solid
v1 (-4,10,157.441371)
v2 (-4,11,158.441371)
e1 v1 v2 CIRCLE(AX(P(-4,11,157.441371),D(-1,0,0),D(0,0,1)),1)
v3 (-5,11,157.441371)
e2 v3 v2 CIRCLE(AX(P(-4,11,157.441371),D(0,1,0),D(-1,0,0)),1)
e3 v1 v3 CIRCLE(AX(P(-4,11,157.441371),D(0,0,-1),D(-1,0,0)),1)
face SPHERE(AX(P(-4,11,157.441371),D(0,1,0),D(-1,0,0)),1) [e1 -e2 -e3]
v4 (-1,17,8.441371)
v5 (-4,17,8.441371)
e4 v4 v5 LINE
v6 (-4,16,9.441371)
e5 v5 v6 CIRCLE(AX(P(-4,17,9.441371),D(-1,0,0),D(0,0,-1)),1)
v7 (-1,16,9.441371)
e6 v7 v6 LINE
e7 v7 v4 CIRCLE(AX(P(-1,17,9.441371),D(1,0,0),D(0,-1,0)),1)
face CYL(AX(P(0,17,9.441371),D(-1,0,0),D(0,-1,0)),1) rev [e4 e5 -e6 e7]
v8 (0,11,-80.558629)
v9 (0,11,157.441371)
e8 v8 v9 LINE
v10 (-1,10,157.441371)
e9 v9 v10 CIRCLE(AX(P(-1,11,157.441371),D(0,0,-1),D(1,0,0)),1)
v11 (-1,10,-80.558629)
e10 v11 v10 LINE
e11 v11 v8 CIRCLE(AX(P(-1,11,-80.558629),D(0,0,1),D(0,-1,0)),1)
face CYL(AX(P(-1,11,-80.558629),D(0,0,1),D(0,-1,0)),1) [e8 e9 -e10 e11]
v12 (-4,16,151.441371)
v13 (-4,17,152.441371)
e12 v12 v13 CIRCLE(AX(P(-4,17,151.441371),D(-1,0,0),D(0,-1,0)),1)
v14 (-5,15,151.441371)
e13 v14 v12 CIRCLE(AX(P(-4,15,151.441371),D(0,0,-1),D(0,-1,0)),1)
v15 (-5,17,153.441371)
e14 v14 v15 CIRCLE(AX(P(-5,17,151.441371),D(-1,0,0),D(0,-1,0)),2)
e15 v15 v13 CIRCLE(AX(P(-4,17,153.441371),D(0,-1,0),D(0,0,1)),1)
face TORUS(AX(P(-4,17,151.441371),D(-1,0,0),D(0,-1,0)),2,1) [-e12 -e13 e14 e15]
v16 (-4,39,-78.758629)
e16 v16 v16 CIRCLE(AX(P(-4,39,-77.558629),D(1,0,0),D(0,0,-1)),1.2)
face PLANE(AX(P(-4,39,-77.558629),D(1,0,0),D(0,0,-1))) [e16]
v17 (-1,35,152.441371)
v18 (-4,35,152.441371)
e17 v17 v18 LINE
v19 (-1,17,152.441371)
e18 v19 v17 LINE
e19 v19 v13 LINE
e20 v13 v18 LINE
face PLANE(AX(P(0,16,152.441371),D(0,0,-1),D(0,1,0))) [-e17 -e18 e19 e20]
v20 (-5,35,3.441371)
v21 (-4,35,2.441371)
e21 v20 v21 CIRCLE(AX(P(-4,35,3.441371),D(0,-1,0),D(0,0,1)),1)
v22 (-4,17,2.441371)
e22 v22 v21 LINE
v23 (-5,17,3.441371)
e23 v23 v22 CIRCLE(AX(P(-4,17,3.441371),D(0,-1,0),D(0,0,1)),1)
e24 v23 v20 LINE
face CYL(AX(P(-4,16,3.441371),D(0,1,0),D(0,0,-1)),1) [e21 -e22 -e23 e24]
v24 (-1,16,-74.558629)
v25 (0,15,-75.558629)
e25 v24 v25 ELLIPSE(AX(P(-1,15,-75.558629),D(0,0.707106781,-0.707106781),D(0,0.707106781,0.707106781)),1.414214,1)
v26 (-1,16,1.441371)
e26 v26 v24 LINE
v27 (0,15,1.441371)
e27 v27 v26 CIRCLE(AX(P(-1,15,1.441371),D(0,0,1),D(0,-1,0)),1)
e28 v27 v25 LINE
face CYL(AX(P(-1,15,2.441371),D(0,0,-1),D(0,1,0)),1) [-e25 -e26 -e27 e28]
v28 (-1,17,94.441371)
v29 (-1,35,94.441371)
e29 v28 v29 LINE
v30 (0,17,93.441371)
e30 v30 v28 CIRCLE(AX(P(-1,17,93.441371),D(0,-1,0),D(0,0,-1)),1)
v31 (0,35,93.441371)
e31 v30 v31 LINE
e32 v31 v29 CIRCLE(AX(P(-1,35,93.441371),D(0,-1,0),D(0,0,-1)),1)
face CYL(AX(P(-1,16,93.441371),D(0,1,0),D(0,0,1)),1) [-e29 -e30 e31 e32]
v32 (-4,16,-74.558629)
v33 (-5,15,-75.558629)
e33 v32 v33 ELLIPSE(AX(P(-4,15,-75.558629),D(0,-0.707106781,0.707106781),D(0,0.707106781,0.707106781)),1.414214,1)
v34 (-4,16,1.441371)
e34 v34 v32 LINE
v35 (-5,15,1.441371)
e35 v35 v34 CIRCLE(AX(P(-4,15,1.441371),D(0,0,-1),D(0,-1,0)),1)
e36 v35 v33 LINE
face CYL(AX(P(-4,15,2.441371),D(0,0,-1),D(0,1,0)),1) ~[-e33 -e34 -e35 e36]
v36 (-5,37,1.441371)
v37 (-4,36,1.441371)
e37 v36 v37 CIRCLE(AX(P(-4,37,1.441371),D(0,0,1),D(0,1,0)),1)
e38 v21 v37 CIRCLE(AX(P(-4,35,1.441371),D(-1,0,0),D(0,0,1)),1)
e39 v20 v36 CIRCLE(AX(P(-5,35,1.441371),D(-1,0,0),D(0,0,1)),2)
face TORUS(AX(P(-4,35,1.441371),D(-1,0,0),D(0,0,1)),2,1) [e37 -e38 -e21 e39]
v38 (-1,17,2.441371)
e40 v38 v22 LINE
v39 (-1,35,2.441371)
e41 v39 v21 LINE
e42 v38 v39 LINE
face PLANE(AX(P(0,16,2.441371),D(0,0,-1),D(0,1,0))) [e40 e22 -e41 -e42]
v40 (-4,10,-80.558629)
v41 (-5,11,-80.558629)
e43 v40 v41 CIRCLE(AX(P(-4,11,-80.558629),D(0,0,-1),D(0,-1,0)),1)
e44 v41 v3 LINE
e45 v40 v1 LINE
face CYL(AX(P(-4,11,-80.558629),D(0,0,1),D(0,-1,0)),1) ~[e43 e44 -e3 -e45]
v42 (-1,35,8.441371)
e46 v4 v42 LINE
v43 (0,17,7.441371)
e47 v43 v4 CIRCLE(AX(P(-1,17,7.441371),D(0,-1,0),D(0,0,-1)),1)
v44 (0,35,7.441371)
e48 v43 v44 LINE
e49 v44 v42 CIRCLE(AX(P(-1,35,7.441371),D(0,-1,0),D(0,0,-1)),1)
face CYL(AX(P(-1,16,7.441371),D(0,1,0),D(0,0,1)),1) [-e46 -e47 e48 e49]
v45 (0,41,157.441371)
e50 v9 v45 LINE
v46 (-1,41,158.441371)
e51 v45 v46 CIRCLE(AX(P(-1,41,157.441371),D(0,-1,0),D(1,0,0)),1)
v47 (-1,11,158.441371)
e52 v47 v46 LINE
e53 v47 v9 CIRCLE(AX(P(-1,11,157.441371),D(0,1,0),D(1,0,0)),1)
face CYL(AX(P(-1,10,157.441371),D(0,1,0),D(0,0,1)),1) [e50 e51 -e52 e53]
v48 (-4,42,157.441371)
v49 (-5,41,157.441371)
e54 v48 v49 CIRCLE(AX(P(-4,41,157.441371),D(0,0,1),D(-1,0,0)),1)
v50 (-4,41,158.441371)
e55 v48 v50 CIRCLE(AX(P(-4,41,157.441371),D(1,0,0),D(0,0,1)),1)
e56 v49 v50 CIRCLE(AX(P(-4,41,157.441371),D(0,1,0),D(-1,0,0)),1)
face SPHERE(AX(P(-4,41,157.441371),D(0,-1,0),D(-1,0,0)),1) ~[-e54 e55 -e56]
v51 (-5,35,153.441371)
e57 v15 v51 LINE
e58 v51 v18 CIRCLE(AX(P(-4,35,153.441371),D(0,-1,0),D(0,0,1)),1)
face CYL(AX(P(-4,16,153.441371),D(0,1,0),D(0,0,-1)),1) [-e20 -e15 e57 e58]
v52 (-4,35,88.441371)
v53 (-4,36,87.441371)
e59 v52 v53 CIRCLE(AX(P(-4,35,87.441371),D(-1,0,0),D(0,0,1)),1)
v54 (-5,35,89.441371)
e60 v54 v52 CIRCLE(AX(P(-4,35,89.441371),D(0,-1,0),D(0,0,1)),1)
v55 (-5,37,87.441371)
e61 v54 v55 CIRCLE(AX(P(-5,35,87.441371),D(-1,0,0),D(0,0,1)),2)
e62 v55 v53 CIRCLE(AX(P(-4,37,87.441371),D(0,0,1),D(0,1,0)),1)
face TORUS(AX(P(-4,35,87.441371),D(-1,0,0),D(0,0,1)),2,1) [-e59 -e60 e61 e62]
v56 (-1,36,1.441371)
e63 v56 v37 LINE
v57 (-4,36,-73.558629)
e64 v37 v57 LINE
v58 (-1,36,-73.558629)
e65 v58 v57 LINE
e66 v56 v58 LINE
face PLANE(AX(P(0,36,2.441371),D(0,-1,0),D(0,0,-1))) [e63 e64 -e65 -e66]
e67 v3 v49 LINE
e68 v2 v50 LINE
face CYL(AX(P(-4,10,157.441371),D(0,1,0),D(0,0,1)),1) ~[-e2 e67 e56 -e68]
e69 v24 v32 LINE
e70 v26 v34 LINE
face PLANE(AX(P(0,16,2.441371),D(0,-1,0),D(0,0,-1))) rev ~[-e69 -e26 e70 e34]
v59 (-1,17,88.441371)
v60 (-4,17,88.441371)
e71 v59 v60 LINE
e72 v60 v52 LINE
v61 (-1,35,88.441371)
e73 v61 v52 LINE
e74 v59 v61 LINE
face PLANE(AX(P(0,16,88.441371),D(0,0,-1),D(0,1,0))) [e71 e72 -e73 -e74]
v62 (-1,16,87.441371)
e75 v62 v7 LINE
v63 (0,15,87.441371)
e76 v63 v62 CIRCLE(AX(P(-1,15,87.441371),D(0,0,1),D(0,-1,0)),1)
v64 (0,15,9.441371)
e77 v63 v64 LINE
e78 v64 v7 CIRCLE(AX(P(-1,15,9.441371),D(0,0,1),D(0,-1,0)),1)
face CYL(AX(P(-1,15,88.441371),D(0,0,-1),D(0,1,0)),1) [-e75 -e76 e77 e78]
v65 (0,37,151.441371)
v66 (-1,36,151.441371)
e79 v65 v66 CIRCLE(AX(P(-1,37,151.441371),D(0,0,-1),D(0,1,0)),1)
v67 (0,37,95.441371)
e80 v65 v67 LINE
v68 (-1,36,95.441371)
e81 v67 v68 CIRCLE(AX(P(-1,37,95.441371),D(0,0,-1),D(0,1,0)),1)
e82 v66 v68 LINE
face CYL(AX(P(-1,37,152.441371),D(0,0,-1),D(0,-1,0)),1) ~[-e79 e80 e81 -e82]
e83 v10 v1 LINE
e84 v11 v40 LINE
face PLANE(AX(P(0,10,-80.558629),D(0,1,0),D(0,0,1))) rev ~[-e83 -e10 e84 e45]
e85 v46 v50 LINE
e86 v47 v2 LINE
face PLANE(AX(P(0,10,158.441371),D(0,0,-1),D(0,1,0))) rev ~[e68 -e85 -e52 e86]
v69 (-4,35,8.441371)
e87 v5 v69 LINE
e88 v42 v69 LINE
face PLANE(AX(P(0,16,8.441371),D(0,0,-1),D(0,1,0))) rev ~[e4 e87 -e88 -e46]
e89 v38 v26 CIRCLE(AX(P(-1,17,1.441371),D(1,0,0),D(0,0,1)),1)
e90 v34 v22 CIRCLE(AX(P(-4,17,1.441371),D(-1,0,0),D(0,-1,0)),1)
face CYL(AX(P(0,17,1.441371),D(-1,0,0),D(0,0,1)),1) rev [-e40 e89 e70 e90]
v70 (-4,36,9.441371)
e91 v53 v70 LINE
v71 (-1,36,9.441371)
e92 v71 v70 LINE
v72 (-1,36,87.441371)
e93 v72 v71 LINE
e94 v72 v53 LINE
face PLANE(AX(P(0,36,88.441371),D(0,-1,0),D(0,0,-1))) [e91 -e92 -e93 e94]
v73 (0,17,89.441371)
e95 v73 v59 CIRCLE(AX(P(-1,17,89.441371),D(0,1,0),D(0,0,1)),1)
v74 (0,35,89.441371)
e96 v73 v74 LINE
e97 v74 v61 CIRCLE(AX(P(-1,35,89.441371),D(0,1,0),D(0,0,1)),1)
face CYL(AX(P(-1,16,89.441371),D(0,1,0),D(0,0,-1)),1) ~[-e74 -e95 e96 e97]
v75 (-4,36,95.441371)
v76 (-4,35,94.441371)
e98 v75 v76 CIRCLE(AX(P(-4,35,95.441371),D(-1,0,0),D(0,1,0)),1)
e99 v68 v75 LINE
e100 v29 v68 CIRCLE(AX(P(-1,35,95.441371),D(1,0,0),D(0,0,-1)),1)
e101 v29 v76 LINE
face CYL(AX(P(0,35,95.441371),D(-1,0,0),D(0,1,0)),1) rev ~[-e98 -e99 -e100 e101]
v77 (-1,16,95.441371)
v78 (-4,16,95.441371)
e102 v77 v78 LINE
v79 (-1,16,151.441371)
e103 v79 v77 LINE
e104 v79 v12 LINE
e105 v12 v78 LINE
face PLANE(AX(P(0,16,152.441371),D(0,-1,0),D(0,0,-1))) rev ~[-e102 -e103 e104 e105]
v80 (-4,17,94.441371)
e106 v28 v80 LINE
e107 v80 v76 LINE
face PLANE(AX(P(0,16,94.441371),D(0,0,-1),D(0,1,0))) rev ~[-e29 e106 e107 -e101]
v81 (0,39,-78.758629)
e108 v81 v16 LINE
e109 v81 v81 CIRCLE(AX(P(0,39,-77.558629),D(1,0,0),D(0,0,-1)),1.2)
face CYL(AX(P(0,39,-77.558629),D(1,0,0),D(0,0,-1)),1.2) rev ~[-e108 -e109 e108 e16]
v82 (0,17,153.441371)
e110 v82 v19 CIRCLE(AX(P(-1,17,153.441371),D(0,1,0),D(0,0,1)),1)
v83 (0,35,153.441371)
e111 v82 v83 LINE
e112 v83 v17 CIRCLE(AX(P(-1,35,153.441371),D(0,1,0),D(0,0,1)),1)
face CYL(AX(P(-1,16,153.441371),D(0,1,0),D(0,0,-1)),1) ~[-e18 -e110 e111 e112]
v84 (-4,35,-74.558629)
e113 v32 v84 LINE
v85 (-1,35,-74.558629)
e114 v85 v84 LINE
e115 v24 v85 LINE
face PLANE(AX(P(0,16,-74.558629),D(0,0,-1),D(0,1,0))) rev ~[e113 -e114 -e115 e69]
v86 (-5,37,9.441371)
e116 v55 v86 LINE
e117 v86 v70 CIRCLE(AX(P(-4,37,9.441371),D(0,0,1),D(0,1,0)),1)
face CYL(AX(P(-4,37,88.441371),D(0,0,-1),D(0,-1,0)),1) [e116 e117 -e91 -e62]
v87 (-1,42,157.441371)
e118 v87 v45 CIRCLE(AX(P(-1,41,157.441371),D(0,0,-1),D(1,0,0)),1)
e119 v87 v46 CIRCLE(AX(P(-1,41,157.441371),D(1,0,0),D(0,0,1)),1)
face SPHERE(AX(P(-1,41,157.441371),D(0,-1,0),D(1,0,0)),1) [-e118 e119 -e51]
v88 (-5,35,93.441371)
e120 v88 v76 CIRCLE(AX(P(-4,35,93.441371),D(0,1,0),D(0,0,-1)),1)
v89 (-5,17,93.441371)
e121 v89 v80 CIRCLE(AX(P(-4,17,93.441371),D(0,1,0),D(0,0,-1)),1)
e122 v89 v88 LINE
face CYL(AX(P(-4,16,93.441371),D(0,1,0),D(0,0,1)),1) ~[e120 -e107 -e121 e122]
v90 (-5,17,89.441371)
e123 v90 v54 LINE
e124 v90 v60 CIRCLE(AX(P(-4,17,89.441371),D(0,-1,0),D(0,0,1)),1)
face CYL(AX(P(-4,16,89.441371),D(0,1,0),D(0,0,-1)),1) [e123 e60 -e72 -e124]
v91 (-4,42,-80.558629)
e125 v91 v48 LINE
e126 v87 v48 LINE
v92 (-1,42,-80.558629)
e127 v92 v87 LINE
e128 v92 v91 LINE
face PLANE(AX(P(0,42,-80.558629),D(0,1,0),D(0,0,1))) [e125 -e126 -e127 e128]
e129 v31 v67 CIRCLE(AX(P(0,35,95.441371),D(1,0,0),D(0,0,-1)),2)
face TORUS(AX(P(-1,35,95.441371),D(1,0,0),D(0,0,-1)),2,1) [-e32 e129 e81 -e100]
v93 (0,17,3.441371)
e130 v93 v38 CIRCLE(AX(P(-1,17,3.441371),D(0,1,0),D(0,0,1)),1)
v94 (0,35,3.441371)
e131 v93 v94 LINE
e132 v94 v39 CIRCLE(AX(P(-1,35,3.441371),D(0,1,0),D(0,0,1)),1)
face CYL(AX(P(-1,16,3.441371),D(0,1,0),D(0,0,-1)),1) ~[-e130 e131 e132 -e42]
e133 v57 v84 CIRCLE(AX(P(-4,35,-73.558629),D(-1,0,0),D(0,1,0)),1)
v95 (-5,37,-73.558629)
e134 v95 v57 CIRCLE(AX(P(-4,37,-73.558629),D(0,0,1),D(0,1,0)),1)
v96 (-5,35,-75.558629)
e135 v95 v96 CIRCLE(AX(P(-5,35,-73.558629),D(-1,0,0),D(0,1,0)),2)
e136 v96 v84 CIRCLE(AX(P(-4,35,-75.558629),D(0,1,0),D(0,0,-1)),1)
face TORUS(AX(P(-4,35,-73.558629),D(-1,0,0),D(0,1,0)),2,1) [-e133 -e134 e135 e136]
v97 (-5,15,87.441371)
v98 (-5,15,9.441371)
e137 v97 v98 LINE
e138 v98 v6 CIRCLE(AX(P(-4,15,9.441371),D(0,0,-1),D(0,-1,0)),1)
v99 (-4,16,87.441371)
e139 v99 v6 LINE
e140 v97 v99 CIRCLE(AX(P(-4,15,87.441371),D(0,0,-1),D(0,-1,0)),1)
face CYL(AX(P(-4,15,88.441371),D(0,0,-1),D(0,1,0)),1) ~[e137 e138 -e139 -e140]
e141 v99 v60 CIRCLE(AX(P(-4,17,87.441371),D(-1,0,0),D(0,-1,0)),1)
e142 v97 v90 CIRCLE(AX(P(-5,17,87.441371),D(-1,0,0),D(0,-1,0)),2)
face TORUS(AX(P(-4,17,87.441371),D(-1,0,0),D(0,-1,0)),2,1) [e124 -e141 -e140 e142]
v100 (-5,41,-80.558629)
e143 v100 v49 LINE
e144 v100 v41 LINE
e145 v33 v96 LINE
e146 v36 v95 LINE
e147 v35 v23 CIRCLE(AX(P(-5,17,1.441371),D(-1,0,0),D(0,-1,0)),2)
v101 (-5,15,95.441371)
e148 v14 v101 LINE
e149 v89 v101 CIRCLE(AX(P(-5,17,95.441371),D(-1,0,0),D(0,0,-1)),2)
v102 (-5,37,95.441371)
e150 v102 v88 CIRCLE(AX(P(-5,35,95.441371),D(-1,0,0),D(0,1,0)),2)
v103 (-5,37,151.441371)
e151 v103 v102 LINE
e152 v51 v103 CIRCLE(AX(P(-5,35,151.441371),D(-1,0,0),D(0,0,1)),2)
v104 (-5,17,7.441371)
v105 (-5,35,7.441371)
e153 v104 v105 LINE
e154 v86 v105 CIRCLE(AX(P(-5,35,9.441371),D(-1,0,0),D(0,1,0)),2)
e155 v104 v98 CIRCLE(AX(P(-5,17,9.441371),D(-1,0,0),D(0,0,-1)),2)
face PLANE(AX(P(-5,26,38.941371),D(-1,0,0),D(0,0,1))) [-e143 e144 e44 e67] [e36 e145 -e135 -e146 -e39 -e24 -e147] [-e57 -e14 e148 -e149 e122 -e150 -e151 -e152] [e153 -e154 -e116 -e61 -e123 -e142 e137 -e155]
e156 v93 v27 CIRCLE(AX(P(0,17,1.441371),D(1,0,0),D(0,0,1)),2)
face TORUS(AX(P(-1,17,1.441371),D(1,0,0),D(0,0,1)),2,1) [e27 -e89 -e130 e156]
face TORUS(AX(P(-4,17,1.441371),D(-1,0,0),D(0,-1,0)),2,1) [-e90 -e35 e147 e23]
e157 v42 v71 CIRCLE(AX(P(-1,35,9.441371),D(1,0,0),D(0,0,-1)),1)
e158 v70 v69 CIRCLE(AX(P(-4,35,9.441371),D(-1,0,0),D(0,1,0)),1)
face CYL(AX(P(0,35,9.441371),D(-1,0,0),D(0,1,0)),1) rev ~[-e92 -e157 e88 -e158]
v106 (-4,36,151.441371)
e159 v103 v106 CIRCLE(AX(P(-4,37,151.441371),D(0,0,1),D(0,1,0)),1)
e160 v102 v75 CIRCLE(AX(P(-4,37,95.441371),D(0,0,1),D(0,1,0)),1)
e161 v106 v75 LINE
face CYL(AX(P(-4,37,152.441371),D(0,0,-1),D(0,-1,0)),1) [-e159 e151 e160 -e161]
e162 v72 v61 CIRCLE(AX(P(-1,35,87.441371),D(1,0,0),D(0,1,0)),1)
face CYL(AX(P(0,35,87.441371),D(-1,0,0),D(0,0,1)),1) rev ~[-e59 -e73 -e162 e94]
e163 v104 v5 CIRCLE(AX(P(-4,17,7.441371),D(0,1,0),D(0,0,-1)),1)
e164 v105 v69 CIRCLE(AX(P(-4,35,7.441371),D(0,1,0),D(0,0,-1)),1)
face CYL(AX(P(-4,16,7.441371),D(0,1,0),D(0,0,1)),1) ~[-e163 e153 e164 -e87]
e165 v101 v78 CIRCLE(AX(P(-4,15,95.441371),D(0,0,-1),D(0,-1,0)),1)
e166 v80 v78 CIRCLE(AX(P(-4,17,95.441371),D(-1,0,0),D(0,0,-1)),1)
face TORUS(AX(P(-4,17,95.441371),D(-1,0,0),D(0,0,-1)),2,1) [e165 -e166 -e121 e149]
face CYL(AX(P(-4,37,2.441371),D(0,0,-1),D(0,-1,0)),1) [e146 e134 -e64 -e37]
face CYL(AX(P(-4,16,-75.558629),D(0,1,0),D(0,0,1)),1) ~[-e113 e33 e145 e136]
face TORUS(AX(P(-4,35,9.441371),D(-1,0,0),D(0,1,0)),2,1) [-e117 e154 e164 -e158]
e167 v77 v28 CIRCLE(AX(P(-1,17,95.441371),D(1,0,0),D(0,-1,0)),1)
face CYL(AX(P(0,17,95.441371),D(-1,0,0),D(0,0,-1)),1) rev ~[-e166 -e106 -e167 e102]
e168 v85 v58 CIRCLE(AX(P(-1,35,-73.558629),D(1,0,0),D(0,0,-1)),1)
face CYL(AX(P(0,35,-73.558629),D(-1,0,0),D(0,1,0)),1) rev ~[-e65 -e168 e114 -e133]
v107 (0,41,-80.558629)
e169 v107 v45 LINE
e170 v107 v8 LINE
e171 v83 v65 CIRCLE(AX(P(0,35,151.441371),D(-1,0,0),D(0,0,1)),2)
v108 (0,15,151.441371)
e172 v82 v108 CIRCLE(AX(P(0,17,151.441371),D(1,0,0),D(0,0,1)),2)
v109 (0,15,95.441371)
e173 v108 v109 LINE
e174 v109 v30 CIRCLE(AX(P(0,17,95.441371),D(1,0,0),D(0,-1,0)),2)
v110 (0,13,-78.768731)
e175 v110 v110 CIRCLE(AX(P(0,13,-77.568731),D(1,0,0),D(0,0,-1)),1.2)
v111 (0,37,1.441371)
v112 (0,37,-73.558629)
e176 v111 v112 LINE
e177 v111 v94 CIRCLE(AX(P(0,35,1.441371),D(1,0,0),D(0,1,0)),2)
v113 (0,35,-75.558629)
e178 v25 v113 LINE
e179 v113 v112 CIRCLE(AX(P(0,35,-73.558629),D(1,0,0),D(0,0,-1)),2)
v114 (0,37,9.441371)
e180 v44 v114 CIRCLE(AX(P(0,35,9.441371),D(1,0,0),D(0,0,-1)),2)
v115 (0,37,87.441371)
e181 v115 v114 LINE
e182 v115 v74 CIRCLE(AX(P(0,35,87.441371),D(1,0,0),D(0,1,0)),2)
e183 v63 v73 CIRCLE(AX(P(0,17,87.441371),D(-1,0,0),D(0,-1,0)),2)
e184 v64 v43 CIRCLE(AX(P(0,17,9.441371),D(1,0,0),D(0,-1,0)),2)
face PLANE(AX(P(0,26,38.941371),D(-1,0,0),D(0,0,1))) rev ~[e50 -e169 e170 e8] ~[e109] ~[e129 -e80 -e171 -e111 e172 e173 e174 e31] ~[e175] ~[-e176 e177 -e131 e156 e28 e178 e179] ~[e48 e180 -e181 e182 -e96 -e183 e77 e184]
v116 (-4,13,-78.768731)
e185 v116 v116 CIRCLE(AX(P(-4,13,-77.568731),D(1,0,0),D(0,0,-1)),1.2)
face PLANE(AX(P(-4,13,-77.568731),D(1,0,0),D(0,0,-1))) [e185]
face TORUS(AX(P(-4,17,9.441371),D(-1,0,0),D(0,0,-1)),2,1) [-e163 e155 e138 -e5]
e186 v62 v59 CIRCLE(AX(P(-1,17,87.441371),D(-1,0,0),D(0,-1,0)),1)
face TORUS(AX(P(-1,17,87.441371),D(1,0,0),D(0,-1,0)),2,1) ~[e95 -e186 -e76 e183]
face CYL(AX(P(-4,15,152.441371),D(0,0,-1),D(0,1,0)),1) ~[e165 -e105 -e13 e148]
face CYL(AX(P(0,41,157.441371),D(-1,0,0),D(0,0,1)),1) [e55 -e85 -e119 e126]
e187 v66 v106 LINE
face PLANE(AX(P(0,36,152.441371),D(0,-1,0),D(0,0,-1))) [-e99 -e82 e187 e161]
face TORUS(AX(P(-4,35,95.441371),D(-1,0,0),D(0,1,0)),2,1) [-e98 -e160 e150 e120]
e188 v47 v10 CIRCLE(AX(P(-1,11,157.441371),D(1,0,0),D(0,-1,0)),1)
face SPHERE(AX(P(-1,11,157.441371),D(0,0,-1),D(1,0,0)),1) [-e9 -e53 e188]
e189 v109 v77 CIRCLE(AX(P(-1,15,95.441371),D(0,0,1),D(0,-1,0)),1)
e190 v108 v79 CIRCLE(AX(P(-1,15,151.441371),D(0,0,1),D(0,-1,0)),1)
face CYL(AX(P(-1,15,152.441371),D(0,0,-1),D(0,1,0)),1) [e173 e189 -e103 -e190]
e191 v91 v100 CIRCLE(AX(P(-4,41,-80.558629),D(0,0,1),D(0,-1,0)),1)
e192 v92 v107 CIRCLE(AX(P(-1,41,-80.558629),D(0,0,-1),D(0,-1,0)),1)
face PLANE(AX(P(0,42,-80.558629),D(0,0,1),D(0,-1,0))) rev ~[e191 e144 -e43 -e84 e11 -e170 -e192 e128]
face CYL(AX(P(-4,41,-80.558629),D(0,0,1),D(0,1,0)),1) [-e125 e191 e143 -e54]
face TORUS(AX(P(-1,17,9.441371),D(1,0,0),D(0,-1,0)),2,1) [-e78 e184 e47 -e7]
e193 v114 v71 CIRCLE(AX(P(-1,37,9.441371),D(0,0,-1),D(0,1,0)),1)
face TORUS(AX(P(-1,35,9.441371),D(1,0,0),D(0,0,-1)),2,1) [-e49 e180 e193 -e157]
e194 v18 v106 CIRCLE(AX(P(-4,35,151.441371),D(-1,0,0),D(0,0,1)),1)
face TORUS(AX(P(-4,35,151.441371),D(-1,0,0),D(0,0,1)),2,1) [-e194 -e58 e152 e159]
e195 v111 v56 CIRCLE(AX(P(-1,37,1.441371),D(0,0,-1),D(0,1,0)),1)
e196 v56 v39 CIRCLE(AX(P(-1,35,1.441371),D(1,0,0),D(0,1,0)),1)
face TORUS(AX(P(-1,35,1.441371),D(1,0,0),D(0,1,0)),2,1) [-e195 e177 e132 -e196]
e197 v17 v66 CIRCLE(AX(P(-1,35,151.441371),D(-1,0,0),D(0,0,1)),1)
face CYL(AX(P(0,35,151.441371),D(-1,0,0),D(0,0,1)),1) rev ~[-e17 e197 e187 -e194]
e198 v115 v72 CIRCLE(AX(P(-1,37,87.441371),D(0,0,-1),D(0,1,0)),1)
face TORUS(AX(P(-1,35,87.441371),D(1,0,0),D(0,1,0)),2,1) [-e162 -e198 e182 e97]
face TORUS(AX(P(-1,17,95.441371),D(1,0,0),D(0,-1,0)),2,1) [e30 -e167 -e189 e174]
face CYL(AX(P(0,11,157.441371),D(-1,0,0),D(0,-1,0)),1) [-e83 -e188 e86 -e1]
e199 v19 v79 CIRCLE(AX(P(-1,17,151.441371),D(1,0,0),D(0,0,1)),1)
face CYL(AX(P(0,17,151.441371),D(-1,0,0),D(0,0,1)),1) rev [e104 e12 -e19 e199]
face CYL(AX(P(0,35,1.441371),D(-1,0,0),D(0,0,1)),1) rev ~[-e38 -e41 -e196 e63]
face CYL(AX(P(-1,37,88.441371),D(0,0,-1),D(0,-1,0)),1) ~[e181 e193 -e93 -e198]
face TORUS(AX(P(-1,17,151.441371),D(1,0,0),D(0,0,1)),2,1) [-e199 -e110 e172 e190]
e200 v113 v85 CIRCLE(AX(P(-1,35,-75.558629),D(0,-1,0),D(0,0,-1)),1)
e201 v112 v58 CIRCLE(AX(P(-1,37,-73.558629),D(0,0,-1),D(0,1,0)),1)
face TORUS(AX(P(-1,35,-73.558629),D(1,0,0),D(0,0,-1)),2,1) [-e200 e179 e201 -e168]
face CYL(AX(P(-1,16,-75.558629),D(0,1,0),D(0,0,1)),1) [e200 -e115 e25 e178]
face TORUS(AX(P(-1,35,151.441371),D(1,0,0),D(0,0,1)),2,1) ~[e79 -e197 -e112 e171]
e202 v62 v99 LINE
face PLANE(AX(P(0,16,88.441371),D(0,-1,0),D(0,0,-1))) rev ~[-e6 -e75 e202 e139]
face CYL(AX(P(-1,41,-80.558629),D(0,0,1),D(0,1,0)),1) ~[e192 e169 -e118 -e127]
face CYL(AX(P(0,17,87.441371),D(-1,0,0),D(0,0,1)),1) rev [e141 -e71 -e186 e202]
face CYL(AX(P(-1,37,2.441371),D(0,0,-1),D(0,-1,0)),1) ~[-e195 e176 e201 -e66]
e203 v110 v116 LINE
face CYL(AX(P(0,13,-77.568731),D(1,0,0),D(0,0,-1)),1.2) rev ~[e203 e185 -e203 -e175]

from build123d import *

# Parameters (mm, degrees)
ESBO_O8_W                = 80
ESBO_O8_H                = 20
ESBO_O8_W_2              = 77
ESBO_O8_W_3              = 58
RESSALTO_EXTRUS_O1_DEPTH = 5
FILETE1_R                = 1
ESBO_O9_R                = 1.2
CORTE_EXTRUS_O1_DEPTH    = 4


with BuildPart() as part:
    # Esboço8 → Ressalto-extrusão1 (new body)
    with BuildSketch(Plane(origin=(0, 0, 0), x_dir=(0, 0, -1), z_dir=(1, 0, 0))):
        Polygon((80.558629268, 10), (-158.441370732, 10), (-158.441370732, 42), (48.30242385, 42), (80.558629268, 42), align=None)
        with Locations((-48.441370732, 26)):
            Rectangle(ESBO_O8_W, ESBO_O8_H, mode=Mode.SUBTRACT)
        with Locations((36.058629268, 26)):
            Rectangle(ESBO_O8_W_2, ESBO_O8_H, mode=Mode.SUBTRACT)
        with Locations((-123.441370732, 26)):
            Rectangle(ESBO_O8_W_3, ESBO_O8_H, mode=Mode.SUBTRACT)
    extrude(amount=-RESSALTO_EXTRUS_O1_DEPTH)

    # Filete1
    filete1_edges = [part.edges().sort_by_distance(p)[0] for p in [
        (-5, 26, 158.441370732),
        (-5, 26, -74.558629268),
        (-2.5, 36, -74.558629268),
        (-5, 16, -36.058629268),
        (-5, 26, 2.441370732),
        (-2.5, 16, 2.441370732),
        (-5, 36, -36.058629268),
        (-2.5, 36, 2.441370732),
        (0, 26, -74.558629268),
        (0, 36, -36.058629268),
        (0, 26, 2.441370732),
        (0, 16, -36.058629268),
        (-5, 10, 38.941370732),
        (-5, 26, 152.441370732),
        (-2.5, 16, 152.441370732),
        (-5, 36, 123.441370732),
        (-2.5, 36, 152.441370732),
        (-5, 26, 94.441370732),
        (-2.5, 36, 94.441370732),
        (-5, 16, 123.441370732),
        (-2.5, 16, 94.441370732),
        (0, 26, 152.441370732),
        (0, 16, 123.441370732),
        (0, 26, 94.441370732),
        (0, 36, 123.441370732),
        (-5, 16, 48.441370732),
        (-2.5, 16, 8.441370732),
        (-5, 26, 88.441370732),
        (-2.5, 16, 88.441370732),
        (-5, 36, 48.441370732),
        (-2.5, 36, 88.441370732),
        (-5, 26, 8.441370732),
        (-2.5, 36, 8.441370732),
        (0, 16, 48.441370732),
        (0, 26, 8.441370732),
        (0, 36, 48.441370732),
        (0, 26, 88.441370732),
        (0, 10, 38.941370732),
        (0, 26, 158.441370732),
        (0, 42, 38.941370732),
        (-5, 42, 38.941370732),
        (-2.5, 10, 158.441370732),
        (-2.5, 42, 158.441370732),
    ]]
    fillet(filete1_edges, radius=FILETE1_R)

    # Esboço9 → Corte-extrusão1 (cut)
    with BuildSketch(Plane(origin=(0, 0, 0), x_dir=(0, 0, -1), z_dir=(1, 0, 0))):
        with Locations((77.568731319, 13)):
            Circle(ESBO_O9_R)
        with Locations((77.558629268, 39)):
            Circle(ESBO_O9_R)
    extrude(amount=-CORTE_EXTRUS_O1_DEPTH, mode=Mode.SUBTRACT)


solid = part.part
